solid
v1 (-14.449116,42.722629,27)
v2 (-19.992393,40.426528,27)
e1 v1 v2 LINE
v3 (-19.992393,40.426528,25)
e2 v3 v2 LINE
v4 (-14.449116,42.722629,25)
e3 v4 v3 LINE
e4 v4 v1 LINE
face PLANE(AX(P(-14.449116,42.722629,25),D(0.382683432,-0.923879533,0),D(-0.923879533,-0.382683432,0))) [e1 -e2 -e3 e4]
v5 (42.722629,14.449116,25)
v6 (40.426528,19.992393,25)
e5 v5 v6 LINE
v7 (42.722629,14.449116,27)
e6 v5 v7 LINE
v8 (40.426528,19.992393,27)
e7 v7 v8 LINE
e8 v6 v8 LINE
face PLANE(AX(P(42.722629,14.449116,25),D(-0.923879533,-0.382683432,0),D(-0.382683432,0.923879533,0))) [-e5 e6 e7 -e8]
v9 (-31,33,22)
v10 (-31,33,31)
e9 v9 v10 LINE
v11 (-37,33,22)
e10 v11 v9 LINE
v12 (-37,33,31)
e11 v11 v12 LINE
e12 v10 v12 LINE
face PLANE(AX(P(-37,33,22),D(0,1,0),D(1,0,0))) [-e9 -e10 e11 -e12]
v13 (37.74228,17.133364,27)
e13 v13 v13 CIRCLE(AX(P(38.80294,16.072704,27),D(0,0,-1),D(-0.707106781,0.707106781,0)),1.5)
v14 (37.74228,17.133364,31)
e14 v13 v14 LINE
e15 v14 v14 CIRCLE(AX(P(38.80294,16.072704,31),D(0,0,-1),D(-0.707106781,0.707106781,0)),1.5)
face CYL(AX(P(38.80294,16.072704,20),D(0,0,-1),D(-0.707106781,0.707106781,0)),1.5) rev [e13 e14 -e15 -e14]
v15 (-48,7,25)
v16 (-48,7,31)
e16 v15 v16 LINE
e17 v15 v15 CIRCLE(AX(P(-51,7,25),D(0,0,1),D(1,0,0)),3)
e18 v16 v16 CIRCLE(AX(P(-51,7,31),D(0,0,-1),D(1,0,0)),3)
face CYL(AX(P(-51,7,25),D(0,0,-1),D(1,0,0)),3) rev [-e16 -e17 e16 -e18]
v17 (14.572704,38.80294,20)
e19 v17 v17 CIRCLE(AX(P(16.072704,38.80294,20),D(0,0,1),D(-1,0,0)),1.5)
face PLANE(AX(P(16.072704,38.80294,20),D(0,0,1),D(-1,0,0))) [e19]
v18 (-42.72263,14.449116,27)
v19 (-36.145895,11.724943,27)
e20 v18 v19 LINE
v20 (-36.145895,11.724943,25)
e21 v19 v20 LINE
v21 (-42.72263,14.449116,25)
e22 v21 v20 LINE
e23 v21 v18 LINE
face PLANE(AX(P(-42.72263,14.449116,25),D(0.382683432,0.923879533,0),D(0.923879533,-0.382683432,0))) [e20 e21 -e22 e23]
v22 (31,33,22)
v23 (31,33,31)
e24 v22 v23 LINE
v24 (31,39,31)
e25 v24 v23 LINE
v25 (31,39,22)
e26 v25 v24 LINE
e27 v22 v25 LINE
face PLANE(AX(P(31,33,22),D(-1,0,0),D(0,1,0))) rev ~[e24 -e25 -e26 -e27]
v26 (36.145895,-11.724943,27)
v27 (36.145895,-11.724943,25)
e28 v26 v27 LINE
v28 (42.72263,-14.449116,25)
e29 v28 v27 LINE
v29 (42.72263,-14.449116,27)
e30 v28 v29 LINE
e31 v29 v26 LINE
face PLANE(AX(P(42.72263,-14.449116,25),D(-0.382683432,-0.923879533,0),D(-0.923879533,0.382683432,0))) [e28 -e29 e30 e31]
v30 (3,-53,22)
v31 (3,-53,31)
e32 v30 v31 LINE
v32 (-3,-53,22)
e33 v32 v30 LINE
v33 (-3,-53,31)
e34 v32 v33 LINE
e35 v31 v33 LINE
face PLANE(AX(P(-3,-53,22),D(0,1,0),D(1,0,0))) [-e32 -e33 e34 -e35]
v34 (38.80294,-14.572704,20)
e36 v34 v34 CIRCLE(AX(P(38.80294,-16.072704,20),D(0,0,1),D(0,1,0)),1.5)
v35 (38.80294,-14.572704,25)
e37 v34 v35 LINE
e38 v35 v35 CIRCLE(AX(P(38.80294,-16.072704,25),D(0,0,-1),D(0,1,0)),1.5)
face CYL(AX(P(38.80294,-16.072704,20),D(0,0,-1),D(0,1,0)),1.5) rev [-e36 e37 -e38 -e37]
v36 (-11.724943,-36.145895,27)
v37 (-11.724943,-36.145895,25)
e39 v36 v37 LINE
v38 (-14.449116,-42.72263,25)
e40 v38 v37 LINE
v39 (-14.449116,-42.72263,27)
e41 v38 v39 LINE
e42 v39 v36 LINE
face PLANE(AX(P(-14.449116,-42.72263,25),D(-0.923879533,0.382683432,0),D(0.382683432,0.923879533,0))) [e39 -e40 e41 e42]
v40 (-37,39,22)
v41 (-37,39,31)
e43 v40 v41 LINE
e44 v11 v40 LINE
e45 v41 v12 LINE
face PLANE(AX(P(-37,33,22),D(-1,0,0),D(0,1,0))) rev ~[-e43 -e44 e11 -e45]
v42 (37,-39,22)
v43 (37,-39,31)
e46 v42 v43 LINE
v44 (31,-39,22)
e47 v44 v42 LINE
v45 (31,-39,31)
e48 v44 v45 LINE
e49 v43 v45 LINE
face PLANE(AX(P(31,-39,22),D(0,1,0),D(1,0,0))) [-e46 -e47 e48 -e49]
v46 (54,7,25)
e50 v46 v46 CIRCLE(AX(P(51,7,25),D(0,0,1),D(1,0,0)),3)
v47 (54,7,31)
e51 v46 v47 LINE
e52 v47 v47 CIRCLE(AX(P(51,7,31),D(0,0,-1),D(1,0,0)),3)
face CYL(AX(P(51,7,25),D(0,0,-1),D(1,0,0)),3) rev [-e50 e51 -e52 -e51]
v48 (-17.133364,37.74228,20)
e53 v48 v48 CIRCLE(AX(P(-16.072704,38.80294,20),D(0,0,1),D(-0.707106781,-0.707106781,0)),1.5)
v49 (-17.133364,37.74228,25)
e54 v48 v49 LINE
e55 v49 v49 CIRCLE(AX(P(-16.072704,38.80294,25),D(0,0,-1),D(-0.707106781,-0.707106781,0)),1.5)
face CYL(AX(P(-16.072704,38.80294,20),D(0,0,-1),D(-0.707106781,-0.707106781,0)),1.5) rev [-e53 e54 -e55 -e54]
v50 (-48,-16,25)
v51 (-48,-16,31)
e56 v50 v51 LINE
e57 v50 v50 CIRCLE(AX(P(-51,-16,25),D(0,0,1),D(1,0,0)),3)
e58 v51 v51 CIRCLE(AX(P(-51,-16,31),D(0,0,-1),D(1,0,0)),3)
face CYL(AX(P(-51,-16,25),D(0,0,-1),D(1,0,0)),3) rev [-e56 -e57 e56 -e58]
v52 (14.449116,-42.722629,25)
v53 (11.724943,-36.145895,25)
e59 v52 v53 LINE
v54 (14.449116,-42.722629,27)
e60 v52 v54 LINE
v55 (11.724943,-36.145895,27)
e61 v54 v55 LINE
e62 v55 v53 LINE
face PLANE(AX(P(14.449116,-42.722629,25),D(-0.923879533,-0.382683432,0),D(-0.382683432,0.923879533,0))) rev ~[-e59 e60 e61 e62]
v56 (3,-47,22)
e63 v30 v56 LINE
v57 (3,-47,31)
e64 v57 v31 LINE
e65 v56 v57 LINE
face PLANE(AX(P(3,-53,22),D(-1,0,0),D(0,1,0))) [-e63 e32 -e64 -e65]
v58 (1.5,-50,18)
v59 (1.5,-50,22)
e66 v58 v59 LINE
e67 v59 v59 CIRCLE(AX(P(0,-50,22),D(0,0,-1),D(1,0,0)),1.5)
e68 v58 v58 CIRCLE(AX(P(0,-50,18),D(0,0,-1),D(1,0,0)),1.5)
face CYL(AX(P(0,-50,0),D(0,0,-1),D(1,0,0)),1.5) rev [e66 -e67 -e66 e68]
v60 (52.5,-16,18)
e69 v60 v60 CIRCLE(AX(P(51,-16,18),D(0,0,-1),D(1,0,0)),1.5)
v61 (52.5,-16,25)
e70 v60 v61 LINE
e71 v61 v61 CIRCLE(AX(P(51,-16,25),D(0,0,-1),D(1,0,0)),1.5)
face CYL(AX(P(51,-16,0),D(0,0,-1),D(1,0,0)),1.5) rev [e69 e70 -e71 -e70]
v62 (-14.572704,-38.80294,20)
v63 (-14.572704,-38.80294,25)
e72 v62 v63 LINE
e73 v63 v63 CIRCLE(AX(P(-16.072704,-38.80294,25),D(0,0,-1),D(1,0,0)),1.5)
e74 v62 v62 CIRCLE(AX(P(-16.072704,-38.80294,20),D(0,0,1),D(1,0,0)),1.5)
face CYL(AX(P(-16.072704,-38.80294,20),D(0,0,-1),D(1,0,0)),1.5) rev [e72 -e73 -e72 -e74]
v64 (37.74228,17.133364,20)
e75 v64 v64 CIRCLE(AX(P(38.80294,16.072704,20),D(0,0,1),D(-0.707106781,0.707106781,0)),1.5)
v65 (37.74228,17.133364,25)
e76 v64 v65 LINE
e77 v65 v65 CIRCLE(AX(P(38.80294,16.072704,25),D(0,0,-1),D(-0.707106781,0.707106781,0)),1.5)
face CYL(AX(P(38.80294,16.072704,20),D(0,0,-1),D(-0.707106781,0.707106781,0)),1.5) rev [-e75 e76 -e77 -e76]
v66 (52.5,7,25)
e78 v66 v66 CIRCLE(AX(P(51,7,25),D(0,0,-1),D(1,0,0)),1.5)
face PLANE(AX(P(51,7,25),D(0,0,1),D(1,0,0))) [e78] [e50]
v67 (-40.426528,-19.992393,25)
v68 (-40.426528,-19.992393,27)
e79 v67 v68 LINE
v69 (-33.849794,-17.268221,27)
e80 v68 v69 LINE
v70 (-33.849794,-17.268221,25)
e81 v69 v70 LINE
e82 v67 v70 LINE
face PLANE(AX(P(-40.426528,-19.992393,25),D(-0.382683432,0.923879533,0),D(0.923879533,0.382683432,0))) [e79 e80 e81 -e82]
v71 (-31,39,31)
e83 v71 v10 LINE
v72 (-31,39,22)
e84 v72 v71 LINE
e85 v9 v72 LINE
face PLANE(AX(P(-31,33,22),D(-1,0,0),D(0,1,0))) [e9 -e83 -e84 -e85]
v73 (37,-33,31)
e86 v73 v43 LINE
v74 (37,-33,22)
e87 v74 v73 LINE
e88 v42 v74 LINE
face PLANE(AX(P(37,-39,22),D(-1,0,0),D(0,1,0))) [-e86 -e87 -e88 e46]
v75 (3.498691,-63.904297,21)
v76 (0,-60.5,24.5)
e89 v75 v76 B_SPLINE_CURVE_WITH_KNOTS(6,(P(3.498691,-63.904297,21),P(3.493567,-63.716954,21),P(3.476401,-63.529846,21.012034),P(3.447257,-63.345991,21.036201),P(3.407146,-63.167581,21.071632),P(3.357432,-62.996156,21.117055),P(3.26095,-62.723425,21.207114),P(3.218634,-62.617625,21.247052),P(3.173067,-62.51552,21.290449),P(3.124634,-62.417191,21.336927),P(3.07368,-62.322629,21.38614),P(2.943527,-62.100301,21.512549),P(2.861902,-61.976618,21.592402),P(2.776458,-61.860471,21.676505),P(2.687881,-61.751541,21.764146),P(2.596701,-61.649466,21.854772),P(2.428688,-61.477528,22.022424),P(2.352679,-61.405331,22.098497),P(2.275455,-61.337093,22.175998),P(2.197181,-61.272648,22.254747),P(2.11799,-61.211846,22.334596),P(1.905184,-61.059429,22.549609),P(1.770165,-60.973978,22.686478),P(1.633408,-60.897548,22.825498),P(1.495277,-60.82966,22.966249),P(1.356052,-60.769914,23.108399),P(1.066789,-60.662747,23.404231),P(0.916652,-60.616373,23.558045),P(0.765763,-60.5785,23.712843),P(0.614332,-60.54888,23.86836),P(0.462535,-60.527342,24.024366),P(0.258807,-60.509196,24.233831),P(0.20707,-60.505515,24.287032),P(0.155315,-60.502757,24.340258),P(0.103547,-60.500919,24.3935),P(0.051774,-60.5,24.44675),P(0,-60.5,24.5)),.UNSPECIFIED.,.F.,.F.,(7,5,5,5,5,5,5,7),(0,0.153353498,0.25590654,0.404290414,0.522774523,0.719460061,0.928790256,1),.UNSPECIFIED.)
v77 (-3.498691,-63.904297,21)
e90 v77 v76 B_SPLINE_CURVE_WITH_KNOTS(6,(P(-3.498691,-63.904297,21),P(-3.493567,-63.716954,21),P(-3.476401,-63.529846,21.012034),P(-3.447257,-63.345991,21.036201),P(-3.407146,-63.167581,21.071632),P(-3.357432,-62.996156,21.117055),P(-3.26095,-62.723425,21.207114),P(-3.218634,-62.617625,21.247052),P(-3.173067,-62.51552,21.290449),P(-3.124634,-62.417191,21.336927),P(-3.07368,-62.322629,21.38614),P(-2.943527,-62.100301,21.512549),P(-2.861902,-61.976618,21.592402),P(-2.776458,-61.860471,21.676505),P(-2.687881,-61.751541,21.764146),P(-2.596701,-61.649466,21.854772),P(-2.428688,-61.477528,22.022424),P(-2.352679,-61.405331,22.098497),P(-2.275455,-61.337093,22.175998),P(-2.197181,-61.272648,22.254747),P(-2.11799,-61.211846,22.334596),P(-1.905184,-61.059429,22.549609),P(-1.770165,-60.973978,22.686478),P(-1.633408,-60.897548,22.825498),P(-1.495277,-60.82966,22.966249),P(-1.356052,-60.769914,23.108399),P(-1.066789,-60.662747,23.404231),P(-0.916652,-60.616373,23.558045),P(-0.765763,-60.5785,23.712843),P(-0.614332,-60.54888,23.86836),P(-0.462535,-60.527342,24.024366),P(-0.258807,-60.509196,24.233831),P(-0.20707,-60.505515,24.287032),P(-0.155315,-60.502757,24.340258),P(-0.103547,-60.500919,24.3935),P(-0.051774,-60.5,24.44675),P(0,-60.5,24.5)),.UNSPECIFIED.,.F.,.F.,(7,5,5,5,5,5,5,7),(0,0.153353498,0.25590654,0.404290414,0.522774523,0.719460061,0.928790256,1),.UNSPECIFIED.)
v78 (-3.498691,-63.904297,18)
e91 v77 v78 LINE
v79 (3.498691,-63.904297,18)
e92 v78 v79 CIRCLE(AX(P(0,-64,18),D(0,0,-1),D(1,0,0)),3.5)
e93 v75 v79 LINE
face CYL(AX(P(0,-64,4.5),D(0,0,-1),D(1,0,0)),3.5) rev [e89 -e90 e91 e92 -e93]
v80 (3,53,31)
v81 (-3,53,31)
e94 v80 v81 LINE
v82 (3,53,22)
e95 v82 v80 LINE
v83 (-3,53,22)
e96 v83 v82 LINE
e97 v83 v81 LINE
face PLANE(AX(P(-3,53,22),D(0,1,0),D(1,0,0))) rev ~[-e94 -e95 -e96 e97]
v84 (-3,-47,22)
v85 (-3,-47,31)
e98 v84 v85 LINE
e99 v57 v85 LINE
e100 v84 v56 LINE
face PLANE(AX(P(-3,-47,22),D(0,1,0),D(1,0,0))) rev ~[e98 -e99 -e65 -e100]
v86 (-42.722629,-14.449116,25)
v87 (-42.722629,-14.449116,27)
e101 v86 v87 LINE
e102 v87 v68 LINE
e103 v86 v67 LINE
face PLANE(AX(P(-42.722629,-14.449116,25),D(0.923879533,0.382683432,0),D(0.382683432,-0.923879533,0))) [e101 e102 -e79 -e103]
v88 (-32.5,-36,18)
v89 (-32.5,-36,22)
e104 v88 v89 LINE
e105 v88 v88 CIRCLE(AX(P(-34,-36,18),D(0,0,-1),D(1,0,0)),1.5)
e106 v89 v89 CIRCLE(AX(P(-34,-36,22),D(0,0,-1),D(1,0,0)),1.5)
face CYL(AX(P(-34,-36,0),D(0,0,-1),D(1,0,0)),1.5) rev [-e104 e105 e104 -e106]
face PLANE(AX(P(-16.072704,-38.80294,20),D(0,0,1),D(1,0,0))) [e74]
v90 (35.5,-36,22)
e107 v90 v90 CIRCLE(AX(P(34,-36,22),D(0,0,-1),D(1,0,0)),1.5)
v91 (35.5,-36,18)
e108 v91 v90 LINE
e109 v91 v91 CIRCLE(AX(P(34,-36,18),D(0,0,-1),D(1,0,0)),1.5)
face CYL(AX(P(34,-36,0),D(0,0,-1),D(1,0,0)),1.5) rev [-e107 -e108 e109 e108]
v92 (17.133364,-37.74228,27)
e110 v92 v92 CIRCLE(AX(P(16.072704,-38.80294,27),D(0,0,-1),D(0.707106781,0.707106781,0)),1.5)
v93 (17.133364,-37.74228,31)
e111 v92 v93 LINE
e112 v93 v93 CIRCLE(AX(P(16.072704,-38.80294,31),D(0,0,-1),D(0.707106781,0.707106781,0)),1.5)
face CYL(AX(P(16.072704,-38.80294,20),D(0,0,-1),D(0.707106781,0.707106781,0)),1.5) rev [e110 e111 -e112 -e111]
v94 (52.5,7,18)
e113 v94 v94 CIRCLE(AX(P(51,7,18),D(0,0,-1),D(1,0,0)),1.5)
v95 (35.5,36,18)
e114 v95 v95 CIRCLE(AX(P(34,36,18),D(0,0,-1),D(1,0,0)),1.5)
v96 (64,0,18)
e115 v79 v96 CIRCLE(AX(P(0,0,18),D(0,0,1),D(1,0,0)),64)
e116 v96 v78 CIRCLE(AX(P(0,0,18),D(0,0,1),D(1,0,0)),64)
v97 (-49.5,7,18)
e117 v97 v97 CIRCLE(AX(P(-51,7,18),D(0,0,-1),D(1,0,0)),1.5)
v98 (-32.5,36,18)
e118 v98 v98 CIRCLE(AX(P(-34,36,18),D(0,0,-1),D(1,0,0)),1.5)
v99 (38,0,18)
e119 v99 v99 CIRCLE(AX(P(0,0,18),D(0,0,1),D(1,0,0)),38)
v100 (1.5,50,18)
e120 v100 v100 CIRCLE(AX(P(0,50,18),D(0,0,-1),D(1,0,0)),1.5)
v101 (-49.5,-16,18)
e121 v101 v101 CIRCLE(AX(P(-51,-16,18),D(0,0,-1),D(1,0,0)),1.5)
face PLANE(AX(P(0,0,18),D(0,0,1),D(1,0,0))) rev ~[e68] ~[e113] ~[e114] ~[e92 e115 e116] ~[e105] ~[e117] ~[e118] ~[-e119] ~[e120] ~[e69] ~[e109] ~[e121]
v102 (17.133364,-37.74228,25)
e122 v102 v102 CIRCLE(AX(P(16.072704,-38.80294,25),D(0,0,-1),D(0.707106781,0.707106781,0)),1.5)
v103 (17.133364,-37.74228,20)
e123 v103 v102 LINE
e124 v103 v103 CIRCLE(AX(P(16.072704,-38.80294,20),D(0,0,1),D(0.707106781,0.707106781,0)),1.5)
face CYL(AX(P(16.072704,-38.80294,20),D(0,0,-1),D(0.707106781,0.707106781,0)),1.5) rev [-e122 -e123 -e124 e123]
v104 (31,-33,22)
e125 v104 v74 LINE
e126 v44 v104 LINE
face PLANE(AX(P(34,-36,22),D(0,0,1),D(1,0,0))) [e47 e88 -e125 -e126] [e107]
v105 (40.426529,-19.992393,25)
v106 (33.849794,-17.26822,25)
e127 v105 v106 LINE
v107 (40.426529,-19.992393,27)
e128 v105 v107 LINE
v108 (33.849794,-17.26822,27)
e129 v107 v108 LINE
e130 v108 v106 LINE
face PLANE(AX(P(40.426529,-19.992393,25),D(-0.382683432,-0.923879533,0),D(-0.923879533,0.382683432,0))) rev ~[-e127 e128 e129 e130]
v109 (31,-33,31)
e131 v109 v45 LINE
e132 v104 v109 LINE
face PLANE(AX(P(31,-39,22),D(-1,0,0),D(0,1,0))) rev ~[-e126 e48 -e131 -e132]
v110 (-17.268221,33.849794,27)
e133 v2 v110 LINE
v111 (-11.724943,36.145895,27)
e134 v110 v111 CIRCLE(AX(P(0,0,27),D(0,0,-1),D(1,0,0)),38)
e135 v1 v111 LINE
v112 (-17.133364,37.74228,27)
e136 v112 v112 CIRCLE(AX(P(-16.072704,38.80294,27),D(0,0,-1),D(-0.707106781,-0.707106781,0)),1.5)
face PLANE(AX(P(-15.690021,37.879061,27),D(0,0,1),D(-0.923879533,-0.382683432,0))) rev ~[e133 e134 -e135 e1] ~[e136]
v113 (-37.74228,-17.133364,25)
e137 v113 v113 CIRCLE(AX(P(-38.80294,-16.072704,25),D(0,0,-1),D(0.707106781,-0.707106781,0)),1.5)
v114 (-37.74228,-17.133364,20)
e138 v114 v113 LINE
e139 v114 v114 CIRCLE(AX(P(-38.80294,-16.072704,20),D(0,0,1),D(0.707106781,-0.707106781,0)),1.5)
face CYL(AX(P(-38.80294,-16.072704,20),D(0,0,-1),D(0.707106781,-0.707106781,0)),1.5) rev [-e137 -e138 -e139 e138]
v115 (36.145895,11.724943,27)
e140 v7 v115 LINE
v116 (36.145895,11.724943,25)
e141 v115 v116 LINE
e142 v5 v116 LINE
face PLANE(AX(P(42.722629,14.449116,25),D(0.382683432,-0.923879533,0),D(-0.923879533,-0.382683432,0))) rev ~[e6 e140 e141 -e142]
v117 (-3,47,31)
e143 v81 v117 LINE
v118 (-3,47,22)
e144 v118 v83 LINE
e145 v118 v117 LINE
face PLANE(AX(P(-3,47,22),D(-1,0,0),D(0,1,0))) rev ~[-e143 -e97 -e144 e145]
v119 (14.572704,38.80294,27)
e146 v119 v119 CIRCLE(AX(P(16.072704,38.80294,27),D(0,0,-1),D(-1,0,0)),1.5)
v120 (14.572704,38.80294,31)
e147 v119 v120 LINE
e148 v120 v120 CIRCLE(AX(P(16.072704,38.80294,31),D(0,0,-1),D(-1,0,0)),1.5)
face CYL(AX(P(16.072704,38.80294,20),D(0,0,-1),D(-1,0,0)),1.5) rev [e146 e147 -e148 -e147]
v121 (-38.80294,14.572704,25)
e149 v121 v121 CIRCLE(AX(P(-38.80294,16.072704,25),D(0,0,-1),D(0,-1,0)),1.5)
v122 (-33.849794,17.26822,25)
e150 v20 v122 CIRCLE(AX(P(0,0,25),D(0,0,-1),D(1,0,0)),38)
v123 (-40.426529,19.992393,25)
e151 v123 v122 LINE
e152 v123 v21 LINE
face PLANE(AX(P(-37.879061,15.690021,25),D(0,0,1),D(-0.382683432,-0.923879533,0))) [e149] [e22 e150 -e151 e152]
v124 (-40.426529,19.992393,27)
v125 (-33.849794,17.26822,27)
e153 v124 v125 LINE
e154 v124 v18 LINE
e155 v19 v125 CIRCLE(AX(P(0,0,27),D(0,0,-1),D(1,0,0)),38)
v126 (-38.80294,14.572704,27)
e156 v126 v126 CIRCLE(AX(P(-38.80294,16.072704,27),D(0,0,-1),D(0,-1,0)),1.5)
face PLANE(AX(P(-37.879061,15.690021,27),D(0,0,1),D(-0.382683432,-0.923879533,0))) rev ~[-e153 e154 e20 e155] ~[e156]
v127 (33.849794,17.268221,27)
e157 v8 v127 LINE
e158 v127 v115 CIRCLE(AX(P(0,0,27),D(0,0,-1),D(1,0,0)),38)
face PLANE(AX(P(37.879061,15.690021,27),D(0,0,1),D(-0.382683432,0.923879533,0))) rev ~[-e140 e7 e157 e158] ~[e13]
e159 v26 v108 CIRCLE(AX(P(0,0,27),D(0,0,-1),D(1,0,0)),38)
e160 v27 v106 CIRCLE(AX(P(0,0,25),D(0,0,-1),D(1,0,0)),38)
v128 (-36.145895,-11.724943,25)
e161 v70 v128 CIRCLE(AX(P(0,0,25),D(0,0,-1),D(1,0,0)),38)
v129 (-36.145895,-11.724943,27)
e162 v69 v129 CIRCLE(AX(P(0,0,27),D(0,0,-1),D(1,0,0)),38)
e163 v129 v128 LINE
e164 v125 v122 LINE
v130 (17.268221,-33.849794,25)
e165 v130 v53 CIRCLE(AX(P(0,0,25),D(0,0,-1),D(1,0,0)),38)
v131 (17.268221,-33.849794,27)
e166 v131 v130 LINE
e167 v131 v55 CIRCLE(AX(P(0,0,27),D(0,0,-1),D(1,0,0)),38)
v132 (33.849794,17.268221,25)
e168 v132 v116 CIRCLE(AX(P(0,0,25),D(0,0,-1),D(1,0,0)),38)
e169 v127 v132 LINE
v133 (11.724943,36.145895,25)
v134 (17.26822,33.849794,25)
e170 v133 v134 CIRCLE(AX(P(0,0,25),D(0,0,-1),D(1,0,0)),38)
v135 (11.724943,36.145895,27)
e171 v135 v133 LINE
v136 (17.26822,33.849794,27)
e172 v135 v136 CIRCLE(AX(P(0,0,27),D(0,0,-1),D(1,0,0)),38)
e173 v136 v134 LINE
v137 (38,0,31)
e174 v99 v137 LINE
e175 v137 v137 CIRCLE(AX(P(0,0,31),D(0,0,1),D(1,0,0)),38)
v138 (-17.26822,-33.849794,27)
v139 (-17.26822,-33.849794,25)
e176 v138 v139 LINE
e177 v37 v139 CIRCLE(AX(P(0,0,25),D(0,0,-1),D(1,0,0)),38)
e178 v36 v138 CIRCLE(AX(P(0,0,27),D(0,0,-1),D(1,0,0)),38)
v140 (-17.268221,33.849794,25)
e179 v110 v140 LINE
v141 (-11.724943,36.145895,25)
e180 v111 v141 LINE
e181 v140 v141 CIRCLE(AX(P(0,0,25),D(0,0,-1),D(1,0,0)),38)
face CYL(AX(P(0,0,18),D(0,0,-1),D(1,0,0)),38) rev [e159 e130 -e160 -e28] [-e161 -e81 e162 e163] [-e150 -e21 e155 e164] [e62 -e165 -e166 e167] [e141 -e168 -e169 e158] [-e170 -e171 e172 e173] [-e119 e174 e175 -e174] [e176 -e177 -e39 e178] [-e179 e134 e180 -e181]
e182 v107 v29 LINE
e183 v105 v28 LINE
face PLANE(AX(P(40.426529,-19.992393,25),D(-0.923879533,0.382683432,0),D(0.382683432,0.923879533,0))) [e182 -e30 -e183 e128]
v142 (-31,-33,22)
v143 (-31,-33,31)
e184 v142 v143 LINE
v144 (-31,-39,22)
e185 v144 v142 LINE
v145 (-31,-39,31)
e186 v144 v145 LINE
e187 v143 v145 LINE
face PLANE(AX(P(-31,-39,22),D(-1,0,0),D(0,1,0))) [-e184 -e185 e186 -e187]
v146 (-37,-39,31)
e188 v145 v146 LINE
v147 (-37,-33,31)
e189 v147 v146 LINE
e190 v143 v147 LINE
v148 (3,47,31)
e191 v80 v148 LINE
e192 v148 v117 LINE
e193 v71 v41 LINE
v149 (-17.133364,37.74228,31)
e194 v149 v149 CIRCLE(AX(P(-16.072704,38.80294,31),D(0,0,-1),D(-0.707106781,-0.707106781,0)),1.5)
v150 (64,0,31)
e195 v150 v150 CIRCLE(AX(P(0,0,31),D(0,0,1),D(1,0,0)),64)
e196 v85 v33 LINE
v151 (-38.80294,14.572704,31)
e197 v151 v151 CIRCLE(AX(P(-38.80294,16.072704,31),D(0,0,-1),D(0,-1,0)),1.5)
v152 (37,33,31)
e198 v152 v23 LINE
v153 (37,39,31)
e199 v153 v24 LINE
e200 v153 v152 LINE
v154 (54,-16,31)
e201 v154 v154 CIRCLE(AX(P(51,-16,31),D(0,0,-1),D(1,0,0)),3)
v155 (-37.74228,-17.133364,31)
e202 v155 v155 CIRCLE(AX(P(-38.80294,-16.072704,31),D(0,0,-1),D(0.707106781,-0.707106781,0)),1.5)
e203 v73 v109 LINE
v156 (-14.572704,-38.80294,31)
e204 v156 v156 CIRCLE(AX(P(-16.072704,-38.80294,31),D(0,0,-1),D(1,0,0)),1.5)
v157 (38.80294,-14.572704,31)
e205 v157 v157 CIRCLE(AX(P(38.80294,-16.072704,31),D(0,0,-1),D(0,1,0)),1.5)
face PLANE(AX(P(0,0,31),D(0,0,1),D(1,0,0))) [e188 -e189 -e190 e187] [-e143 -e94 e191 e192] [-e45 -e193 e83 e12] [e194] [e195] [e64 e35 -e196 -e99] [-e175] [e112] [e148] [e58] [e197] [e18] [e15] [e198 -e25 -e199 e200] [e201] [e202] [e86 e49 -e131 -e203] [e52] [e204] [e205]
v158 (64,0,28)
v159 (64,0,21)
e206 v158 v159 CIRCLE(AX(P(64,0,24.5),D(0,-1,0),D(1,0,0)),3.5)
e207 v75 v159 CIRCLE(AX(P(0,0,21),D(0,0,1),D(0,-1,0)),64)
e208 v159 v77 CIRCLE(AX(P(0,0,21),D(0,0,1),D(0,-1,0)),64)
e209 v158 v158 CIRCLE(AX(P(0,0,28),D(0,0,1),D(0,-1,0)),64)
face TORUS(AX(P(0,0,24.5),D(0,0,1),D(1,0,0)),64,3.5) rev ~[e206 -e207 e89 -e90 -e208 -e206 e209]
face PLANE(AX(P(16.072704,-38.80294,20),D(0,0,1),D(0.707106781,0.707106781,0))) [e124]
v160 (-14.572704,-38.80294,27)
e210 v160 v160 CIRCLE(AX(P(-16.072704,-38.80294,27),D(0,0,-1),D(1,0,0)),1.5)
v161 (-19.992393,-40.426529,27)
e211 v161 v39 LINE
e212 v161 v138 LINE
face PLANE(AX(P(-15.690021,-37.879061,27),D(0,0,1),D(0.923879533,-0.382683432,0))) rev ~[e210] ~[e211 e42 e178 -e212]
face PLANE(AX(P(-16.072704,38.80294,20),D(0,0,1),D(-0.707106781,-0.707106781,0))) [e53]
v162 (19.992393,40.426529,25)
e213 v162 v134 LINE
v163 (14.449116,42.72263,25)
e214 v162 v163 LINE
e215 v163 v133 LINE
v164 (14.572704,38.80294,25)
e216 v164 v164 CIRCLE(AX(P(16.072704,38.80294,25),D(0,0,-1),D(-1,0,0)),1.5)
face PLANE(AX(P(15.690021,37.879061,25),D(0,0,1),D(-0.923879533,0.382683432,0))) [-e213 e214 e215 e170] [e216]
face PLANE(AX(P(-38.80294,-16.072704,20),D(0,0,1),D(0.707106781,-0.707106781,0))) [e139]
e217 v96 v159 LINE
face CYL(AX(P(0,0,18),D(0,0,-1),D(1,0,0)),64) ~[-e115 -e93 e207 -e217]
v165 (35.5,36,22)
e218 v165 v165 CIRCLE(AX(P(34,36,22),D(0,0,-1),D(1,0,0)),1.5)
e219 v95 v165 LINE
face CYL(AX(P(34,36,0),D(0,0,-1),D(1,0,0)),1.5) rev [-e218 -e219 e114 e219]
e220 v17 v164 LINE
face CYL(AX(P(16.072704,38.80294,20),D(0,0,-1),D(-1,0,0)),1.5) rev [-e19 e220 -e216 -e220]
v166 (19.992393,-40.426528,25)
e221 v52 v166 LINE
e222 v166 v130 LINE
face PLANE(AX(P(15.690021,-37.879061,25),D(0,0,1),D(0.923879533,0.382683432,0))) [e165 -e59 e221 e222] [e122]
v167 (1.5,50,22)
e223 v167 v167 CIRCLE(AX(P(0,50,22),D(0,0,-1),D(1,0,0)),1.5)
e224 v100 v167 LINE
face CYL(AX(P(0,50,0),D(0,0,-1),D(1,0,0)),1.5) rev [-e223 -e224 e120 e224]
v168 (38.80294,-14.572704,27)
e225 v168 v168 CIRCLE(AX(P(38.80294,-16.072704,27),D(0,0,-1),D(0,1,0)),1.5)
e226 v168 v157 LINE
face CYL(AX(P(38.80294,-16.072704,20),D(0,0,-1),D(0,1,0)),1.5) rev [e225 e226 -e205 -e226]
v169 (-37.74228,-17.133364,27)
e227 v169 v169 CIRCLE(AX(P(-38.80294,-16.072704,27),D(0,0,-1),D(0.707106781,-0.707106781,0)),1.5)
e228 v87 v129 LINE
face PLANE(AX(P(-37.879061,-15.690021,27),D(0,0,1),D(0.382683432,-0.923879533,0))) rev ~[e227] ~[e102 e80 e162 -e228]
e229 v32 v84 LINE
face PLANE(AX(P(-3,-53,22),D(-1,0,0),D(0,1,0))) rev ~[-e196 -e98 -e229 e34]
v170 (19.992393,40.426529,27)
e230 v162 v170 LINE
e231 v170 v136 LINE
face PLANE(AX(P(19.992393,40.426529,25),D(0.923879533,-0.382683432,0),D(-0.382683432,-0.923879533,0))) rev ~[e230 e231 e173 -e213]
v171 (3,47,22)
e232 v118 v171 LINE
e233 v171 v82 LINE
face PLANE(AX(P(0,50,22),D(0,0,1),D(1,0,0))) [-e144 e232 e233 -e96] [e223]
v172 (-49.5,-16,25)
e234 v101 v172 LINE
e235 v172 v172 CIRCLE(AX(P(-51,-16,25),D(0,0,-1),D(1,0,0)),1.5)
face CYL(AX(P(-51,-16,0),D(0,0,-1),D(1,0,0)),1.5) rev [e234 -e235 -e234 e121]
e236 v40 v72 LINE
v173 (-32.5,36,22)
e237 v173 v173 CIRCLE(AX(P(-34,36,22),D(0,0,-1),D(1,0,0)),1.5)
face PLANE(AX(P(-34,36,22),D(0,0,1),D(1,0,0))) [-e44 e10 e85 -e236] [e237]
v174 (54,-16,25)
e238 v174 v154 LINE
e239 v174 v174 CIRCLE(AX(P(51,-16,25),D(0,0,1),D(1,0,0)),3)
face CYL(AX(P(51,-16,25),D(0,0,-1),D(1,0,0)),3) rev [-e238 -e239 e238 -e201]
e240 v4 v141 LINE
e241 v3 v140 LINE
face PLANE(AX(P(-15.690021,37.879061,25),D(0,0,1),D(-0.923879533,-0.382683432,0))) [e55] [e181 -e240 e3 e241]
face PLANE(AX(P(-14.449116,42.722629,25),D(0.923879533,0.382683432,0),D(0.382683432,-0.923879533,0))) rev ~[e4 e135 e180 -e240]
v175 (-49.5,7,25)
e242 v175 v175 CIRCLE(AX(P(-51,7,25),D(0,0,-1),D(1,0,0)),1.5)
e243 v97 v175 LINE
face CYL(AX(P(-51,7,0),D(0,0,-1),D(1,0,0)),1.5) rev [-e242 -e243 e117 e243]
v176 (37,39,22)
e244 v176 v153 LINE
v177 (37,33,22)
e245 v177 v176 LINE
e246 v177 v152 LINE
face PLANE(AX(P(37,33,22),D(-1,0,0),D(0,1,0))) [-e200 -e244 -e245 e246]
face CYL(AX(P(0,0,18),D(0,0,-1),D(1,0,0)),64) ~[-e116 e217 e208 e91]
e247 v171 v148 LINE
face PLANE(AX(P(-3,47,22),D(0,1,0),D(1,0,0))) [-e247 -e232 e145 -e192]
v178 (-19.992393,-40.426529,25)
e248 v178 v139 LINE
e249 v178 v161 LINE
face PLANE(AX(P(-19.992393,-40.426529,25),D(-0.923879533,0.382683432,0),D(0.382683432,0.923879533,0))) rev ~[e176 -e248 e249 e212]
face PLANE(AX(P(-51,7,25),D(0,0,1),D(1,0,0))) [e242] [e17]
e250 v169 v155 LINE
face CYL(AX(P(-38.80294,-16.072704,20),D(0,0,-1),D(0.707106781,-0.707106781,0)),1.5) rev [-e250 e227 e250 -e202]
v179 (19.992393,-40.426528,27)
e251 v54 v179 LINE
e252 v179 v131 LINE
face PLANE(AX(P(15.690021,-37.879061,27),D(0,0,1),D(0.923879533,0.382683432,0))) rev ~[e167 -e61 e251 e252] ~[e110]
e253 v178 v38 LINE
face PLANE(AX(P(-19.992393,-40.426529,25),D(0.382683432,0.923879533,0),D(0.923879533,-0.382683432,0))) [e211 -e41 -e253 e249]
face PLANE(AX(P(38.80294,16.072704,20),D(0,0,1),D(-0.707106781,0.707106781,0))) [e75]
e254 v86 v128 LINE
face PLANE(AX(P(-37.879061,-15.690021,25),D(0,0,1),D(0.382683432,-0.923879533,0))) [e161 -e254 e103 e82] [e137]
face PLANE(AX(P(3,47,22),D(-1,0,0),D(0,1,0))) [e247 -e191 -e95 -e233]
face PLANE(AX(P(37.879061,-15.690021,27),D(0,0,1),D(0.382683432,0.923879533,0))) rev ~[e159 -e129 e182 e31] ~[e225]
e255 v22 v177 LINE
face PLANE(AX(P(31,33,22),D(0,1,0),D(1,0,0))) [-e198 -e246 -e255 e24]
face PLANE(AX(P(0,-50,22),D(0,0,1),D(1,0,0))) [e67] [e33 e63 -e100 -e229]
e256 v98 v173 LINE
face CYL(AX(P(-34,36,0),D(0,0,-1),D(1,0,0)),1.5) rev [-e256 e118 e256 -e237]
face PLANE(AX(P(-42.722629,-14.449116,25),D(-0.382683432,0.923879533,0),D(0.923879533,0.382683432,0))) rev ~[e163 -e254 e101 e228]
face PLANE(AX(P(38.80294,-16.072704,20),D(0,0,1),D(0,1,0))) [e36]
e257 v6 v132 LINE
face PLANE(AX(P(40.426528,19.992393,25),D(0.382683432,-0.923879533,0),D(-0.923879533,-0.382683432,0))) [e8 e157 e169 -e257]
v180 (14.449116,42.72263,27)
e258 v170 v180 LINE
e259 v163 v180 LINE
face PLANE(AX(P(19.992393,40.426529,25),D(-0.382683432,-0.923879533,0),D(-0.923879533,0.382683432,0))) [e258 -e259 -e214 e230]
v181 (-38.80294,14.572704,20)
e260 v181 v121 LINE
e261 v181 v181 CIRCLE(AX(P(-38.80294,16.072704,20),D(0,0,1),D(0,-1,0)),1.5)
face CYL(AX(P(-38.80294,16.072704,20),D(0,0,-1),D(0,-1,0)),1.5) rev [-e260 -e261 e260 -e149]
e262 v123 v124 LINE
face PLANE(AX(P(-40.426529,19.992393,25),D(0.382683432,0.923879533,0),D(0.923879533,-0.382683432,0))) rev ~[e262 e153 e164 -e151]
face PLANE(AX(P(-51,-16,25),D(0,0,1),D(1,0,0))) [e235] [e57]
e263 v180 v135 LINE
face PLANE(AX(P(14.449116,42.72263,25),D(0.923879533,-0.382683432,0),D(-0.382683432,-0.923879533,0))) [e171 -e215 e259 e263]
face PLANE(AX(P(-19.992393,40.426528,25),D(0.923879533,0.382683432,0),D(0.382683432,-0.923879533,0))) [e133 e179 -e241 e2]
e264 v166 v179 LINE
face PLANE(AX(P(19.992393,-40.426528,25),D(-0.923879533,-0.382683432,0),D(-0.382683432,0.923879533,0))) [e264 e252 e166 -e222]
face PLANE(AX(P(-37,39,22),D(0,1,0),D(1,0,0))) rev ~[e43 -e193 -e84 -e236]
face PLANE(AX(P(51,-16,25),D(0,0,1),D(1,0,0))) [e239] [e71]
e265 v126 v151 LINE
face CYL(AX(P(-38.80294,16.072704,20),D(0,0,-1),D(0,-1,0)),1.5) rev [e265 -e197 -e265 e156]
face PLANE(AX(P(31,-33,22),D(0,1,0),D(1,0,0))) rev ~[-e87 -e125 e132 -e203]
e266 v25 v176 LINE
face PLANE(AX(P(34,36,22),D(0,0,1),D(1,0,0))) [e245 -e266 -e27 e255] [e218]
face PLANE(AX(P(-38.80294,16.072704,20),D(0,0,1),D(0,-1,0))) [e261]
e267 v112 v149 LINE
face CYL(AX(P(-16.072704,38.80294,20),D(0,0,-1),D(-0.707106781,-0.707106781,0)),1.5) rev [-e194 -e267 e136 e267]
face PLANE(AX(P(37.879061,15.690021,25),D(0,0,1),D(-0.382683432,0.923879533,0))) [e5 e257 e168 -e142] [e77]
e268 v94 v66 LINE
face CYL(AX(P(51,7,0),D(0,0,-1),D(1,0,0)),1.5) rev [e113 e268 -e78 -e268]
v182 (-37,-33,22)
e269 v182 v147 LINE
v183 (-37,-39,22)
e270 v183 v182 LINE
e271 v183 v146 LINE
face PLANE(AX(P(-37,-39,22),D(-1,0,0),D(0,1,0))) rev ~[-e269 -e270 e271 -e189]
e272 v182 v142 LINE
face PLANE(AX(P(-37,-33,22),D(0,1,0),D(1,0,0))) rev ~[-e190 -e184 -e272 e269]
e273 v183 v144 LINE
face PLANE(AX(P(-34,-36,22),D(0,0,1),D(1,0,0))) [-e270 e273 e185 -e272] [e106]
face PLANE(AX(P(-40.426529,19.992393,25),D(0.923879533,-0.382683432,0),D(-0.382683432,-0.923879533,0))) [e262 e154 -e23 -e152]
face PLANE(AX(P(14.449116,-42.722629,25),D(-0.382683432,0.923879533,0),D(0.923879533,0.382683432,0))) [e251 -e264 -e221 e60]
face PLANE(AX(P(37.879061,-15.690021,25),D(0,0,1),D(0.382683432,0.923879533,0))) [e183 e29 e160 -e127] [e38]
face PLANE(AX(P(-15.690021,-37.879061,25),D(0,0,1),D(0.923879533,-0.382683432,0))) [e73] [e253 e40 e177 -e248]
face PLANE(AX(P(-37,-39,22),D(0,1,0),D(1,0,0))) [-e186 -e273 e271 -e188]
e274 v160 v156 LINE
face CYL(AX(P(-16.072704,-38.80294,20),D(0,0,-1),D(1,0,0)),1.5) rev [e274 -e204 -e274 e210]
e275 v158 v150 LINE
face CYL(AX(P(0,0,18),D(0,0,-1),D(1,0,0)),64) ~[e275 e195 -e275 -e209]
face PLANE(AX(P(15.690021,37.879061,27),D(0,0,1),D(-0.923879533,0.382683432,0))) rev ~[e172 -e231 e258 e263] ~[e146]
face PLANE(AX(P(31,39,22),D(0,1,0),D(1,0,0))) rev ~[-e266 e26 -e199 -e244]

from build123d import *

# Parameters (mm, degrees)
BOX158_W                    = 6
BOX158_H                    = 8
BOX158_DEPTH                = 2
BOX158_PLACEMENT_ANGLE      = 67.5
BOX159_W                    = 6
BOX159_H                    = 8
BOX159_DEPTH                = 2
BOX159_PLACEMENT_ANGLE      = 112.5
BOX160_W                    = 6
BOX160_H                    = 8
BOX160_DEPTH                = 2
BOX160_PLACEMENT_ANGLE      = 157.5
BOX161_W                    = 6
BOX161_H                    = 8
BOX161_DEPTH                = 2
BOX161_PLACEMENT_ANGLE      = 202.5
BOX162_W                    = 6
BOX162_H                    = 8
BOX162_DEPTH                = 2
BOX162_PLACEMENT_ANGLE      = 112.5
BOX163_W                    = 6
BOX163_H                    = 8
BOX163_DEPTH                = 2
BOX163_PLACEMENT_ANGLE      = 67.5
BOX164_W                    = 6
BOX164_H                    = 8
BOX164_DEPTH                = 2
BOX164_PLACEMENT_ANGLE      = 22.5
BOX157_W                    = 6
BOX157_H                    = 8
BOX157_DEPTH                = 2
BOX157_PLACEMENT_ANGLE      = 22.5
CYLINDER469_R               = 1.5
CYLINDER469_DEPTH           = 100
CYLINDER470_R               = 1.5
CYLINDER470_DEPTH           = 100
CYLINDER470_PLACEMENT_ANGLE = 135
CYLINDER471_R               = 1.5
CYLINDER471_DEPTH           = 100
CYLINDER472_R               = 1.5
CYLINDER472_DEPTH           = 100
CYLINDER472_PLACEMENT_ANGLE = 225
CYLINDER473_R               = 1.5
CYLINDER473_DEPTH           = 100
CYLINDER474_R               = 1.5
CYLINDER474_DEPTH           = 100
CYLINDER474_PLACEMENT_ANGLE = 45
CYLINDER475_R               = 1.5
CYLINDER475_DEPTH           = 100
CYLINDER468_R               = 1.5
CYLINDER468_DEPTH           = 100
CYLINDER468_PLACEMENT_ANGLE = 45
BOX147_W                    = 6
BOX147_H                    = 6
BOX147_DEPTH                = 10
BOX146_W                    = 6
BOX146_H                    = 6
BOX146_DEPTH                = 10
BOX148_W                    = 6
BOX148_H                    = 6
BOX148_DEPTH                = 10
BOX149_W                    = 6
BOX149_H                    = 6
BOX149_DEPTH                = 10
BOX150_W                    = 6
BOX150_H                    = 6
BOX150_DEPTH                = 10
BOX145_W                    = 6
BOX145_H                    = 6
BOX145_DEPTH                = 10
CYLINDER411_R               = 3
CYLINDER411_DEPTH           = 7
CYLINDER409_R               = 3
CYLINDER409_DEPTH           = 7
CYLINDER410_R               = 3
CYLINDER410_DEPTH           = 7
CYLINDER408_R               = 3
CYLINDER408_DEPTH           = 7
CYLINDER371_R               = 1.5
CYLINDER371_DEPTH           = 50
CYLINDER372_R               = 1.5
CYLINDER372_DEPTH           = 50
CYLINDER373_R               = 1.5
CYLINDER373_DEPTH           = 50
CYLINDER374_R               = 1.5
CYLINDER374_DEPTH           = 50
CYLINDER375_R               = 1.5
CYLINDER375_DEPTH           = 50
CYLINDER376_R               = 1.5
CYLINDER376_DEPTH           = 100
CYLINDER377_R               = 1.5
CYLINDER377_DEPTH           = 50
CYLINDER378_R               = 1.5
CYLINDER378_DEPTH           = 50
CYLINDER379_R               = 1.5
CYLINDER379_DEPTH           = 100
CYLINDER370_R               = 1.5
CYLINDER370_DEPTH           = 50
CYLINDER288_R               = 3.5
CYLINDER288_DEPTH           = 20
TORUS_R                     = 3.5
TUBE019_R                   = 64
TUBE019_R_2                 = 38
TUBE019_DEPTH               = 13


with BuildPart() as krychle158:
    # Box158 → Box158 (new body)
    with BuildSketch(Plane.XY):
        with Locations((3, 4)):
            Rectangle(BOX158_W, BOX158_H)
    extrude(amount=BOX158_DEPTH)


with BuildPart() as krychle158_1:
    # Box158 placement: moved
    add(krychle158.part.moved(Location((40.426529, -19.992393, 25))).rotate(Axis((40.426529, -19.992393, 25), (0, 0, 1)), BOX158_PLACEMENT_ANGLE))


with BuildPart() as krychle159:
    # Box159 → Box159 (new body)
    with BuildSketch(Plane.XY):
        with Locations((3, 4)):
            Rectangle(BOX159_W, BOX159_H)
    extrude(amount=BOX159_DEPTH)


with BuildPart() as krychle159_1:
    # Box159 placement: moved
    add(krychle159.part.moved(Location((42.722629, 14.449116, 25))).rotate(Axis((42.722629, 14.449116, 25), (0, 0, 1)), BOX159_PLACEMENT_ANGLE))


with BuildPart() as krychle160:
    # Box160 → Box160 (new body)
    with BuildSketch(Plane.XY):
        with Locations((3, 4)):
            Rectangle(BOX160_W, BOX160_H)
    extrude(amount=BOX160_DEPTH)


with BuildPart() as krychle160_1:
    # Box160 placement: moved
    add(krychle160.part.moved(Location((19.992393, 40.426529, 25))).rotate(Axis((19.992393, 40.426529, 25), (0, 0, 1)), BOX160_PLACEMENT_ANGLE))


with BuildPart() as krychle161:
    # Box161 → Box161 (new body)
    with BuildSketch(Plane.XY):
        with Locations((3, 4)):
            Rectangle(BOX161_W, BOX161_H)
    extrude(amount=BOX161_DEPTH)


with BuildPart() as krychle161_1:
    # Box161 placement: moved
    add(krychle161.part.moved(Location((-14.449116, 42.722629, 25))).rotate(Axis((-14.449116, 42.722629, 25), (0, 0, 1)), BOX161_PLACEMENT_ANGLE))


with BuildPart() as krychle162:
    # Box162 → Box162 (new body)
    with BuildSketch(Plane.XY):
        with Locations((3, 4)):
            Rectangle(BOX162_W, BOX162_H)
    extrude(amount=BOX162_DEPTH)


with BuildPart() as krychle162_1:
    # Box162 placement: moved
    add(krychle162.part.moved(Location((-40.426529, 19.992393, 25))).rotate(Axis((-40.426529, 19.992393, 25), (0, 0, -1)), BOX162_PLACEMENT_ANGLE))


with BuildPart() as krychle163:
    # Box163 → Box163 (new body)
    with BuildSketch(Plane.XY):
        with Locations((3, 4)):
            Rectangle(BOX163_W, BOX163_H)
    extrude(amount=BOX163_DEPTH)


with BuildPart() as krychle163_1:
    # Box163 placement: moved
    add(krychle163.part.moved(Location((-42.722629, -14.449116, 25))).rotate(Axis((-42.722629, -14.449116, 25), (0, 0, -1)), BOX163_PLACEMENT_ANGLE))


with BuildPart() as krychle164:
    # Box164 → Box164 (new body)
    with BuildSketch(Plane.XY):
        with Locations((3, 4)):
            Rectangle(BOX164_W, BOX164_H)
    extrude(amount=BOX164_DEPTH)


with BuildPart() as krychle164_1:
    # Box164 placement: moved
    add(krychle164.part.moved(Location((-19.992393, -40.426529, 25))).rotate(Axis((-19.992393, -40.426529, 25), (0, 0, -1)), BOX164_PLACEMENT_ANGLE))


with BuildPart() as compound322:
    # Box157 → Box157 (new body)
    with BuildSketch(Plane.XY):
        with Locations((3, 4)):
            Rectangle(BOX157_W, BOX157_H)
    extrude(amount=BOX157_DEPTH)


with BuildPart() as compound322_1:
    # Box157 placement: moved
    add(compound322.part.moved(Location((14.449116, -42.722629, 25))).rotate(Axis((14.449116, -42.722629, 25), (0, 0, 1)), BOX157_PLACEMENT_ANGLE))

    # Compound322: union Krychle158, Krychle159, Krychle160, Krychle161, Krychle162, Krychle163, Krychle164
    add(krychle158_1.part)
    add(krychle159_1.part)
    add(krychle160_1.part)
    add(krychle161_1.part)
    add(krychle162_1.part)
    add(krychle163_1.part)
    add(krychle164_1.part)


with BuildPart() as v_lec469:
    # Cylinder469 → Cylinder469 (new body)
    with BuildSketch(Plane(origin=(38.80294, -16.072704, 0), x_dir=(0, 1, 0), z_dir=(0, 0, 1))):
        Circle(CYLINDER469_R)
    extrude(amount=CYLINDER469_DEPTH)


with BuildPart() as v_lec470:
    # Cylinder470 → Cylinder470 (new body)
    with BuildSketch(Plane.XY):
        Circle(CYLINDER470_R)
    extrude(amount=CYLINDER470_DEPTH)


with BuildPart() as v_lec470_1:
    # Cylinder470 placement: moved
    add(v_lec470.part.moved(Location((38.80294, 16.072704, 0))).rotate(Axis((38.80294, 16.072704, 0), (0, 0, 1)), CYLINDER470_PLACEMENT_ANGLE))


with BuildPart() as v_lec471:
    # Cylinder471 → Cylinder471 (new body)
    with BuildSketch(Plane(origin=(16.072704, 38.80294, 0), x_dir=(-1, 0, 0), z_dir=(0, 0, 1))):
        Circle(CYLINDER471_R)
    extrude(amount=CYLINDER471_DEPTH)


with BuildPart() as v_lec472:
    # Cylinder472 → Cylinder472 (new body)
    with BuildSketch(Plane.XY):
        Circle(CYLINDER472_R)
    extrude(amount=CYLINDER472_DEPTH)


with BuildPart() as v_lec472_1:
    # Cylinder472 placement: moved
    add(v_lec472.part.moved(Location((-16.072704, 38.80294, 0))).rotate(Axis((-16.072704, 38.80294, 0), (0, 0, 1)), CYLINDER472_PLACEMENT_ANGLE))


with BuildPart() as v_lec473:
    # Cylinder473 → Cylinder473 (new body)
    with BuildSketch(Plane(origin=(-38.80294, 16.072704, 0), x_dir=(0, -1, 0), z_dir=(0, 0, 1))):
        Circle(CYLINDER473_R)
    extrude(amount=CYLINDER473_DEPTH)


with BuildPart() as v_lec474:
    # Cylinder474 → Cylinder474 (new body)
    with BuildSketch(Plane.XY):
        Circle(CYLINDER474_R)
    extrude(amount=CYLINDER474_DEPTH)


with BuildPart() as v_lec474_1:
    # Cylinder474 placement: moved
    add(v_lec474.part.moved(Location((-38.80294, -16.072704, 0))).rotate(Axis((-38.80294, -16.072704, 0), (0, 0, -1)), CYLINDER474_PLACEMENT_ANGLE))


with BuildPart() as v_lec475:
    # Cylinder475 → Cylinder475 (new body)
    with BuildSketch(Plane(origin=(-16.072704, -38.80294, 0), x_dir=(1, 0, 0), z_dir=(0, 0, 1))):
        Circle(CYLINDER475_R)
    extrude(amount=CYLINDER475_DEPTH)


with BuildPart() as compound328:
    # Cylinder468 → Cylinder468 (new body)
    with BuildSketch(Plane.XY):
        Circle(CYLINDER468_R)
    extrude(amount=CYLINDER468_DEPTH)


with BuildPart() as compound328_1:
    # Cylinder468 placement: moved
    add(compound328.part.moved(Location((16.072704, -38.80294, 0))).rotate(Axis((16.072704, -38.80294, 0), (0, 0, 1)), CYLINDER468_PLACEMENT_ANGLE))

    # Compound328: union Válec469, Válec470, Válec471, Válec472, Válec473, Válec474, Válec475
    add(v_lec469.part)
    add(v_lec470_1.part)
    add(v_lec471.part)
    add(v_lec472_1.part)
    add(v_lec473.part)
    add(v_lec474_1.part)
    add(v_lec475.part)


with BuildPart() as compound328_2:
    # Compound328 placement: moved
    add(compound328_1.part.moved(Location((0, 0, 20))))


with BuildPart() as krychle147:
    # Box147 → Box147 (new body)
    with BuildSketch(Plane(origin=(-37, -39, 40), x_dir=(1, 0, 0), z_dir=(0, 0, 1))):
        with Locations((3, 3)):
            Rectangle(BOX147_W, BOX147_H)
    extrude(amount=BOX147_DEPTH)


with BuildPart() as krychle146:
    # Box146 → Box146 (new body)
    with BuildSketch(Plane(origin=(-3, -53, 40), x_dir=(1, 0, 0), z_dir=(0, 0, 1))):
        with Locations((3, 3)):
            Rectangle(BOX146_W, BOX146_H)
    extrude(amount=BOX146_DEPTH)


with BuildPart() as krychle148:
    # Box148 → Box148 (new body)
    with BuildSketch(Plane(origin=(31, 33, 40), x_dir=(1, 0, 0), z_dir=(0, 0, 1))):
        with Locations((3, 3)):
            Rectangle(BOX148_W, BOX148_H)
    extrude(amount=BOX148_DEPTH)


with BuildPart() as krychle149:
    # Box149 → Box149 (new body)
    with BuildSketch(Plane(origin=(-37, 33, 40), x_dir=(1, 0, 0), z_dir=(0, 0, 1))):
        with Locations((3, 3)):
            Rectangle(BOX149_W, BOX149_H)
    extrude(amount=BOX149_DEPTH)


with BuildPart() as krychle150:
    # Box150 → Box150 (new body)
    with BuildSketch(Plane(origin=(31, -39, 40), x_dir=(1, 0, 0), z_dir=(0, 0, 1))):
        with Locations((3, 3)):
            Rectangle(BOX150_W, BOX150_H)
    extrude(amount=BOX150_DEPTH)


with BuildPart() as compound315:
    # Box145 → Box145 (new body)
    with BuildSketch(Plane(origin=(-3, 47, 40), x_dir=(1, 0, 0), z_dir=(0, 0, 1))):
        with Locations((3, 3)):
            Rectangle(BOX145_W, BOX145_H)
    extrude(amount=BOX145_DEPTH)

    # Compound315: union Krychle147, Krychle146, Krychle148, Krychle149, Krychle150
    add(krychle147.part)
    add(krychle146.part)
    add(krychle148.part)
    add(krychle149.part)
    add(krychle150.part)


with BuildPart() as compound315_1:
    # Compound315 placement: moved
    add(compound315.part.moved(Location((0, 0, -18))))


with BuildPart() as v_lec411:
    # Cylinder411 → Cylinder411 (new body)
    with BuildSketch(Plane(origin=(51, -16, 50), x_dir=(1, 0, 0), z_dir=(0, 0, 1))):
        Circle(CYLINDER411_R)
    extrude(amount=CYLINDER411_DEPTH)


with BuildPart() as v_lec409:
    # Cylinder409 → Cylinder409 (new body)
    with BuildSketch(Plane(origin=(51, 7, 50), x_dir=(1, 0, 0), z_dir=(0, 0, 1))):
        Circle(CYLINDER409_R)
    extrude(amount=CYLINDER409_DEPTH)


with BuildPart() as v_lec410:
    # Cylinder410 → Cylinder410 (new body)
    with BuildSketch(Plane(origin=(-51, 7, 50), x_dir=(1, 0, 0), z_dir=(0, 0, 1))):
        Circle(CYLINDER410_R)
    extrude(amount=CYLINDER410_DEPTH)


with BuildPart() as compound313:
    # Cylinder408 → Cylinder408 (new body)
    with BuildSketch(Plane(origin=(-51, -16, 50), x_dir=(1, 0, 0), z_dir=(0, 0, 1))):
        Circle(CYLINDER408_R)
    extrude(amount=CYLINDER408_DEPTH)

    # Compound313: union Válec411, Válec409, Válec410
    add(v_lec411.part)
    add(v_lec409.part)
    add(v_lec410.part)


with BuildPart() as compound313_1:
    # Compound313 placement: moved
    add(compound313.part.moved(Location((0, 0, -25))))


with BuildPart() as v_lec371:
    # Cylinder371 → Cylinder371 (new body)
    with BuildSketch(Plane(origin=(34, 36, 0), x_dir=(1, 0, 0), z_dir=(0, 0, 1))):
        Circle(CYLINDER371_R)
    extrude(amount=CYLINDER371_DEPTH)


with BuildPart() as v_lec372:
    # Cylinder372 → Cylinder372 (new body)
    with BuildSketch(Plane(origin=(-34, -36, 0), x_dir=(1, 0, 0), z_dir=(0, 0, 1))):
        Circle(CYLINDER372_R)
    extrude(amount=CYLINDER372_DEPTH)


with BuildPart() as v_lec373:
    # Cylinder373 → Cylinder373 (new body)
    with BuildSketch(Plane(origin=(34, -36, 0), x_dir=(1, 0, 0), z_dir=(0, 0, 1))):
        Circle(CYLINDER373_R)
    extrude(amount=CYLINDER373_DEPTH)


with BuildPart() as v_lec374:
    # Cylinder374 → Cylinder374 (new body)
    with BuildSketch(Plane(origin=(0, 50, 0), x_dir=(1, 0, 0), z_dir=(0, 0, 1))):
        Circle(CYLINDER374_R)
    extrude(amount=CYLINDER374_DEPTH)


with BuildPart() as v_lec375:
    # Cylinder375 → Cylinder375 (new body)
    with BuildSketch(Plane(origin=(0, -50, 0), x_dir=(1, 0, 0), z_dir=(0, 0, 1))):
        Circle(CYLINDER375_R)
    extrude(amount=CYLINDER375_DEPTH)


with BuildPart() as v_lec376:
    # Cylinder376 → Cylinder376 (new body)
    with BuildSketch(Plane(origin=(-51, -16, 0), x_dir=(1, 0, 0), z_dir=(0, 0, 1))):
        Circle(CYLINDER376_R)
    extrude(amount=CYLINDER376_DEPTH)


with BuildPart() as v_lec377:
    # Cylinder377 → Cylinder377 (new body)
    with BuildSketch(Plane(origin=(51, 7, 0), x_dir=(1, 0, 0), z_dir=(0, 0, 1))):
        Circle(CYLINDER377_R)
    extrude(amount=CYLINDER377_DEPTH)


with BuildPart() as v_lec378:
    # Cylinder378 → Cylinder378 (new body)
    with BuildSketch(Plane(origin=(-51, 7, 0), x_dir=(1, 0, 0), z_dir=(0, 0, 1))):
        Circle(CYLINDER378_R)
    extrude(amount=CYLINDER378_DEPTH)


with BuildPart() as v_lec379:
    # Cylinder379 → Cylinder379 (new body)
    with BuildSketch(Plane(origin=(51, -16, 0), x_dir=(1, 0, 0), z_dir=(0, 0, 1))):
        Circle(CYLINDER379_R)
    extrude(amount=CYLINDER379_DEPTH)


with BuildPart() as compound308:
    # Cylinder370 → Cylinder370 (new body)
    with BuildSketch(Plane(origin=(-34, 36, 0), x_dir=(1, 0, 0), z_dir=(0, 0, 1))):
        Circle(CYLINDER370_R)
    extrude(amount=CYLINDER370_DEPTH)

    # Compound308: union Válec371, Válec372, Válec373, Válec374, Válec375, Válec376, Válec377, Válec378, Válec379
    add(v_lec371.part)
    add(v_lec372.part)
    add(v_lec373.part)
    add(v_lec374.part)
    add(v_lec375.part)
    add(v_lec376.part)
    add(v_lec377.part)
    add(v_lec378.part)
    add(v_lec379.part)


with BuildPart() as v_lec288:
    # Cylinder288 → Cylinder288 (new body)
    with BuildSketch(Plane(origin=(0, -64, 4.5), x_dir=(1, 0, 0), z_dir=(0, 0, 1))):
        Circle(CYLINDER288_R)
    extrude(amount=CYLINDER288_DEPTH)


with BuildPart() as anuloid:
    # Torus → Torus (revolve)
    with BuildSketch(Plane(origin=(0, 0, 24.5), x_dir=(1, 0, 0), z_dir=(0, -1, 0))):
        with Locations((64, 0)):
            Circle(TORUS_R)
    revolve(axis=Axis((0, 0, 24.5), (0, 0, 1)))


with BuildPart() as cut175:
    # Tube019 → Tube019 (new body)
    with BuildSketch(Plane.XY.offset(18)):
        Circle(TUBE019_R)
        Circle(TUBE019_R_2, mode=Mode.SUBTRACT)
    extrude(amount=TUBE019_DEPTH)

    # Cut129: cut Anuloid
    add(anuloid.part, mode=Mode.SUBTRACT)

    # Cut130: cut Válec288
    add(v_lec288.part, mode=Mode.SUBTRACT)

    # Cut160: cut Compound308
    add(compound308.part, mode=Mode.SUBTRACT)

    # Cut162: cut Compound313
    add(compound313_1.part, mode=Mode.SUBTRACT)

    # Cut164: cut Compound315
    add(compound315_1.part, mode=Mode.SUBTRACT)

    # Cut174: cut Compound328
    add(compound328_2.part, mode=Mode.SUBTRACT)

    # Cut175: cut Compound322
    add(compound322_1.part, mode=Mode.SUBTRACT)


solid = cut175.part
